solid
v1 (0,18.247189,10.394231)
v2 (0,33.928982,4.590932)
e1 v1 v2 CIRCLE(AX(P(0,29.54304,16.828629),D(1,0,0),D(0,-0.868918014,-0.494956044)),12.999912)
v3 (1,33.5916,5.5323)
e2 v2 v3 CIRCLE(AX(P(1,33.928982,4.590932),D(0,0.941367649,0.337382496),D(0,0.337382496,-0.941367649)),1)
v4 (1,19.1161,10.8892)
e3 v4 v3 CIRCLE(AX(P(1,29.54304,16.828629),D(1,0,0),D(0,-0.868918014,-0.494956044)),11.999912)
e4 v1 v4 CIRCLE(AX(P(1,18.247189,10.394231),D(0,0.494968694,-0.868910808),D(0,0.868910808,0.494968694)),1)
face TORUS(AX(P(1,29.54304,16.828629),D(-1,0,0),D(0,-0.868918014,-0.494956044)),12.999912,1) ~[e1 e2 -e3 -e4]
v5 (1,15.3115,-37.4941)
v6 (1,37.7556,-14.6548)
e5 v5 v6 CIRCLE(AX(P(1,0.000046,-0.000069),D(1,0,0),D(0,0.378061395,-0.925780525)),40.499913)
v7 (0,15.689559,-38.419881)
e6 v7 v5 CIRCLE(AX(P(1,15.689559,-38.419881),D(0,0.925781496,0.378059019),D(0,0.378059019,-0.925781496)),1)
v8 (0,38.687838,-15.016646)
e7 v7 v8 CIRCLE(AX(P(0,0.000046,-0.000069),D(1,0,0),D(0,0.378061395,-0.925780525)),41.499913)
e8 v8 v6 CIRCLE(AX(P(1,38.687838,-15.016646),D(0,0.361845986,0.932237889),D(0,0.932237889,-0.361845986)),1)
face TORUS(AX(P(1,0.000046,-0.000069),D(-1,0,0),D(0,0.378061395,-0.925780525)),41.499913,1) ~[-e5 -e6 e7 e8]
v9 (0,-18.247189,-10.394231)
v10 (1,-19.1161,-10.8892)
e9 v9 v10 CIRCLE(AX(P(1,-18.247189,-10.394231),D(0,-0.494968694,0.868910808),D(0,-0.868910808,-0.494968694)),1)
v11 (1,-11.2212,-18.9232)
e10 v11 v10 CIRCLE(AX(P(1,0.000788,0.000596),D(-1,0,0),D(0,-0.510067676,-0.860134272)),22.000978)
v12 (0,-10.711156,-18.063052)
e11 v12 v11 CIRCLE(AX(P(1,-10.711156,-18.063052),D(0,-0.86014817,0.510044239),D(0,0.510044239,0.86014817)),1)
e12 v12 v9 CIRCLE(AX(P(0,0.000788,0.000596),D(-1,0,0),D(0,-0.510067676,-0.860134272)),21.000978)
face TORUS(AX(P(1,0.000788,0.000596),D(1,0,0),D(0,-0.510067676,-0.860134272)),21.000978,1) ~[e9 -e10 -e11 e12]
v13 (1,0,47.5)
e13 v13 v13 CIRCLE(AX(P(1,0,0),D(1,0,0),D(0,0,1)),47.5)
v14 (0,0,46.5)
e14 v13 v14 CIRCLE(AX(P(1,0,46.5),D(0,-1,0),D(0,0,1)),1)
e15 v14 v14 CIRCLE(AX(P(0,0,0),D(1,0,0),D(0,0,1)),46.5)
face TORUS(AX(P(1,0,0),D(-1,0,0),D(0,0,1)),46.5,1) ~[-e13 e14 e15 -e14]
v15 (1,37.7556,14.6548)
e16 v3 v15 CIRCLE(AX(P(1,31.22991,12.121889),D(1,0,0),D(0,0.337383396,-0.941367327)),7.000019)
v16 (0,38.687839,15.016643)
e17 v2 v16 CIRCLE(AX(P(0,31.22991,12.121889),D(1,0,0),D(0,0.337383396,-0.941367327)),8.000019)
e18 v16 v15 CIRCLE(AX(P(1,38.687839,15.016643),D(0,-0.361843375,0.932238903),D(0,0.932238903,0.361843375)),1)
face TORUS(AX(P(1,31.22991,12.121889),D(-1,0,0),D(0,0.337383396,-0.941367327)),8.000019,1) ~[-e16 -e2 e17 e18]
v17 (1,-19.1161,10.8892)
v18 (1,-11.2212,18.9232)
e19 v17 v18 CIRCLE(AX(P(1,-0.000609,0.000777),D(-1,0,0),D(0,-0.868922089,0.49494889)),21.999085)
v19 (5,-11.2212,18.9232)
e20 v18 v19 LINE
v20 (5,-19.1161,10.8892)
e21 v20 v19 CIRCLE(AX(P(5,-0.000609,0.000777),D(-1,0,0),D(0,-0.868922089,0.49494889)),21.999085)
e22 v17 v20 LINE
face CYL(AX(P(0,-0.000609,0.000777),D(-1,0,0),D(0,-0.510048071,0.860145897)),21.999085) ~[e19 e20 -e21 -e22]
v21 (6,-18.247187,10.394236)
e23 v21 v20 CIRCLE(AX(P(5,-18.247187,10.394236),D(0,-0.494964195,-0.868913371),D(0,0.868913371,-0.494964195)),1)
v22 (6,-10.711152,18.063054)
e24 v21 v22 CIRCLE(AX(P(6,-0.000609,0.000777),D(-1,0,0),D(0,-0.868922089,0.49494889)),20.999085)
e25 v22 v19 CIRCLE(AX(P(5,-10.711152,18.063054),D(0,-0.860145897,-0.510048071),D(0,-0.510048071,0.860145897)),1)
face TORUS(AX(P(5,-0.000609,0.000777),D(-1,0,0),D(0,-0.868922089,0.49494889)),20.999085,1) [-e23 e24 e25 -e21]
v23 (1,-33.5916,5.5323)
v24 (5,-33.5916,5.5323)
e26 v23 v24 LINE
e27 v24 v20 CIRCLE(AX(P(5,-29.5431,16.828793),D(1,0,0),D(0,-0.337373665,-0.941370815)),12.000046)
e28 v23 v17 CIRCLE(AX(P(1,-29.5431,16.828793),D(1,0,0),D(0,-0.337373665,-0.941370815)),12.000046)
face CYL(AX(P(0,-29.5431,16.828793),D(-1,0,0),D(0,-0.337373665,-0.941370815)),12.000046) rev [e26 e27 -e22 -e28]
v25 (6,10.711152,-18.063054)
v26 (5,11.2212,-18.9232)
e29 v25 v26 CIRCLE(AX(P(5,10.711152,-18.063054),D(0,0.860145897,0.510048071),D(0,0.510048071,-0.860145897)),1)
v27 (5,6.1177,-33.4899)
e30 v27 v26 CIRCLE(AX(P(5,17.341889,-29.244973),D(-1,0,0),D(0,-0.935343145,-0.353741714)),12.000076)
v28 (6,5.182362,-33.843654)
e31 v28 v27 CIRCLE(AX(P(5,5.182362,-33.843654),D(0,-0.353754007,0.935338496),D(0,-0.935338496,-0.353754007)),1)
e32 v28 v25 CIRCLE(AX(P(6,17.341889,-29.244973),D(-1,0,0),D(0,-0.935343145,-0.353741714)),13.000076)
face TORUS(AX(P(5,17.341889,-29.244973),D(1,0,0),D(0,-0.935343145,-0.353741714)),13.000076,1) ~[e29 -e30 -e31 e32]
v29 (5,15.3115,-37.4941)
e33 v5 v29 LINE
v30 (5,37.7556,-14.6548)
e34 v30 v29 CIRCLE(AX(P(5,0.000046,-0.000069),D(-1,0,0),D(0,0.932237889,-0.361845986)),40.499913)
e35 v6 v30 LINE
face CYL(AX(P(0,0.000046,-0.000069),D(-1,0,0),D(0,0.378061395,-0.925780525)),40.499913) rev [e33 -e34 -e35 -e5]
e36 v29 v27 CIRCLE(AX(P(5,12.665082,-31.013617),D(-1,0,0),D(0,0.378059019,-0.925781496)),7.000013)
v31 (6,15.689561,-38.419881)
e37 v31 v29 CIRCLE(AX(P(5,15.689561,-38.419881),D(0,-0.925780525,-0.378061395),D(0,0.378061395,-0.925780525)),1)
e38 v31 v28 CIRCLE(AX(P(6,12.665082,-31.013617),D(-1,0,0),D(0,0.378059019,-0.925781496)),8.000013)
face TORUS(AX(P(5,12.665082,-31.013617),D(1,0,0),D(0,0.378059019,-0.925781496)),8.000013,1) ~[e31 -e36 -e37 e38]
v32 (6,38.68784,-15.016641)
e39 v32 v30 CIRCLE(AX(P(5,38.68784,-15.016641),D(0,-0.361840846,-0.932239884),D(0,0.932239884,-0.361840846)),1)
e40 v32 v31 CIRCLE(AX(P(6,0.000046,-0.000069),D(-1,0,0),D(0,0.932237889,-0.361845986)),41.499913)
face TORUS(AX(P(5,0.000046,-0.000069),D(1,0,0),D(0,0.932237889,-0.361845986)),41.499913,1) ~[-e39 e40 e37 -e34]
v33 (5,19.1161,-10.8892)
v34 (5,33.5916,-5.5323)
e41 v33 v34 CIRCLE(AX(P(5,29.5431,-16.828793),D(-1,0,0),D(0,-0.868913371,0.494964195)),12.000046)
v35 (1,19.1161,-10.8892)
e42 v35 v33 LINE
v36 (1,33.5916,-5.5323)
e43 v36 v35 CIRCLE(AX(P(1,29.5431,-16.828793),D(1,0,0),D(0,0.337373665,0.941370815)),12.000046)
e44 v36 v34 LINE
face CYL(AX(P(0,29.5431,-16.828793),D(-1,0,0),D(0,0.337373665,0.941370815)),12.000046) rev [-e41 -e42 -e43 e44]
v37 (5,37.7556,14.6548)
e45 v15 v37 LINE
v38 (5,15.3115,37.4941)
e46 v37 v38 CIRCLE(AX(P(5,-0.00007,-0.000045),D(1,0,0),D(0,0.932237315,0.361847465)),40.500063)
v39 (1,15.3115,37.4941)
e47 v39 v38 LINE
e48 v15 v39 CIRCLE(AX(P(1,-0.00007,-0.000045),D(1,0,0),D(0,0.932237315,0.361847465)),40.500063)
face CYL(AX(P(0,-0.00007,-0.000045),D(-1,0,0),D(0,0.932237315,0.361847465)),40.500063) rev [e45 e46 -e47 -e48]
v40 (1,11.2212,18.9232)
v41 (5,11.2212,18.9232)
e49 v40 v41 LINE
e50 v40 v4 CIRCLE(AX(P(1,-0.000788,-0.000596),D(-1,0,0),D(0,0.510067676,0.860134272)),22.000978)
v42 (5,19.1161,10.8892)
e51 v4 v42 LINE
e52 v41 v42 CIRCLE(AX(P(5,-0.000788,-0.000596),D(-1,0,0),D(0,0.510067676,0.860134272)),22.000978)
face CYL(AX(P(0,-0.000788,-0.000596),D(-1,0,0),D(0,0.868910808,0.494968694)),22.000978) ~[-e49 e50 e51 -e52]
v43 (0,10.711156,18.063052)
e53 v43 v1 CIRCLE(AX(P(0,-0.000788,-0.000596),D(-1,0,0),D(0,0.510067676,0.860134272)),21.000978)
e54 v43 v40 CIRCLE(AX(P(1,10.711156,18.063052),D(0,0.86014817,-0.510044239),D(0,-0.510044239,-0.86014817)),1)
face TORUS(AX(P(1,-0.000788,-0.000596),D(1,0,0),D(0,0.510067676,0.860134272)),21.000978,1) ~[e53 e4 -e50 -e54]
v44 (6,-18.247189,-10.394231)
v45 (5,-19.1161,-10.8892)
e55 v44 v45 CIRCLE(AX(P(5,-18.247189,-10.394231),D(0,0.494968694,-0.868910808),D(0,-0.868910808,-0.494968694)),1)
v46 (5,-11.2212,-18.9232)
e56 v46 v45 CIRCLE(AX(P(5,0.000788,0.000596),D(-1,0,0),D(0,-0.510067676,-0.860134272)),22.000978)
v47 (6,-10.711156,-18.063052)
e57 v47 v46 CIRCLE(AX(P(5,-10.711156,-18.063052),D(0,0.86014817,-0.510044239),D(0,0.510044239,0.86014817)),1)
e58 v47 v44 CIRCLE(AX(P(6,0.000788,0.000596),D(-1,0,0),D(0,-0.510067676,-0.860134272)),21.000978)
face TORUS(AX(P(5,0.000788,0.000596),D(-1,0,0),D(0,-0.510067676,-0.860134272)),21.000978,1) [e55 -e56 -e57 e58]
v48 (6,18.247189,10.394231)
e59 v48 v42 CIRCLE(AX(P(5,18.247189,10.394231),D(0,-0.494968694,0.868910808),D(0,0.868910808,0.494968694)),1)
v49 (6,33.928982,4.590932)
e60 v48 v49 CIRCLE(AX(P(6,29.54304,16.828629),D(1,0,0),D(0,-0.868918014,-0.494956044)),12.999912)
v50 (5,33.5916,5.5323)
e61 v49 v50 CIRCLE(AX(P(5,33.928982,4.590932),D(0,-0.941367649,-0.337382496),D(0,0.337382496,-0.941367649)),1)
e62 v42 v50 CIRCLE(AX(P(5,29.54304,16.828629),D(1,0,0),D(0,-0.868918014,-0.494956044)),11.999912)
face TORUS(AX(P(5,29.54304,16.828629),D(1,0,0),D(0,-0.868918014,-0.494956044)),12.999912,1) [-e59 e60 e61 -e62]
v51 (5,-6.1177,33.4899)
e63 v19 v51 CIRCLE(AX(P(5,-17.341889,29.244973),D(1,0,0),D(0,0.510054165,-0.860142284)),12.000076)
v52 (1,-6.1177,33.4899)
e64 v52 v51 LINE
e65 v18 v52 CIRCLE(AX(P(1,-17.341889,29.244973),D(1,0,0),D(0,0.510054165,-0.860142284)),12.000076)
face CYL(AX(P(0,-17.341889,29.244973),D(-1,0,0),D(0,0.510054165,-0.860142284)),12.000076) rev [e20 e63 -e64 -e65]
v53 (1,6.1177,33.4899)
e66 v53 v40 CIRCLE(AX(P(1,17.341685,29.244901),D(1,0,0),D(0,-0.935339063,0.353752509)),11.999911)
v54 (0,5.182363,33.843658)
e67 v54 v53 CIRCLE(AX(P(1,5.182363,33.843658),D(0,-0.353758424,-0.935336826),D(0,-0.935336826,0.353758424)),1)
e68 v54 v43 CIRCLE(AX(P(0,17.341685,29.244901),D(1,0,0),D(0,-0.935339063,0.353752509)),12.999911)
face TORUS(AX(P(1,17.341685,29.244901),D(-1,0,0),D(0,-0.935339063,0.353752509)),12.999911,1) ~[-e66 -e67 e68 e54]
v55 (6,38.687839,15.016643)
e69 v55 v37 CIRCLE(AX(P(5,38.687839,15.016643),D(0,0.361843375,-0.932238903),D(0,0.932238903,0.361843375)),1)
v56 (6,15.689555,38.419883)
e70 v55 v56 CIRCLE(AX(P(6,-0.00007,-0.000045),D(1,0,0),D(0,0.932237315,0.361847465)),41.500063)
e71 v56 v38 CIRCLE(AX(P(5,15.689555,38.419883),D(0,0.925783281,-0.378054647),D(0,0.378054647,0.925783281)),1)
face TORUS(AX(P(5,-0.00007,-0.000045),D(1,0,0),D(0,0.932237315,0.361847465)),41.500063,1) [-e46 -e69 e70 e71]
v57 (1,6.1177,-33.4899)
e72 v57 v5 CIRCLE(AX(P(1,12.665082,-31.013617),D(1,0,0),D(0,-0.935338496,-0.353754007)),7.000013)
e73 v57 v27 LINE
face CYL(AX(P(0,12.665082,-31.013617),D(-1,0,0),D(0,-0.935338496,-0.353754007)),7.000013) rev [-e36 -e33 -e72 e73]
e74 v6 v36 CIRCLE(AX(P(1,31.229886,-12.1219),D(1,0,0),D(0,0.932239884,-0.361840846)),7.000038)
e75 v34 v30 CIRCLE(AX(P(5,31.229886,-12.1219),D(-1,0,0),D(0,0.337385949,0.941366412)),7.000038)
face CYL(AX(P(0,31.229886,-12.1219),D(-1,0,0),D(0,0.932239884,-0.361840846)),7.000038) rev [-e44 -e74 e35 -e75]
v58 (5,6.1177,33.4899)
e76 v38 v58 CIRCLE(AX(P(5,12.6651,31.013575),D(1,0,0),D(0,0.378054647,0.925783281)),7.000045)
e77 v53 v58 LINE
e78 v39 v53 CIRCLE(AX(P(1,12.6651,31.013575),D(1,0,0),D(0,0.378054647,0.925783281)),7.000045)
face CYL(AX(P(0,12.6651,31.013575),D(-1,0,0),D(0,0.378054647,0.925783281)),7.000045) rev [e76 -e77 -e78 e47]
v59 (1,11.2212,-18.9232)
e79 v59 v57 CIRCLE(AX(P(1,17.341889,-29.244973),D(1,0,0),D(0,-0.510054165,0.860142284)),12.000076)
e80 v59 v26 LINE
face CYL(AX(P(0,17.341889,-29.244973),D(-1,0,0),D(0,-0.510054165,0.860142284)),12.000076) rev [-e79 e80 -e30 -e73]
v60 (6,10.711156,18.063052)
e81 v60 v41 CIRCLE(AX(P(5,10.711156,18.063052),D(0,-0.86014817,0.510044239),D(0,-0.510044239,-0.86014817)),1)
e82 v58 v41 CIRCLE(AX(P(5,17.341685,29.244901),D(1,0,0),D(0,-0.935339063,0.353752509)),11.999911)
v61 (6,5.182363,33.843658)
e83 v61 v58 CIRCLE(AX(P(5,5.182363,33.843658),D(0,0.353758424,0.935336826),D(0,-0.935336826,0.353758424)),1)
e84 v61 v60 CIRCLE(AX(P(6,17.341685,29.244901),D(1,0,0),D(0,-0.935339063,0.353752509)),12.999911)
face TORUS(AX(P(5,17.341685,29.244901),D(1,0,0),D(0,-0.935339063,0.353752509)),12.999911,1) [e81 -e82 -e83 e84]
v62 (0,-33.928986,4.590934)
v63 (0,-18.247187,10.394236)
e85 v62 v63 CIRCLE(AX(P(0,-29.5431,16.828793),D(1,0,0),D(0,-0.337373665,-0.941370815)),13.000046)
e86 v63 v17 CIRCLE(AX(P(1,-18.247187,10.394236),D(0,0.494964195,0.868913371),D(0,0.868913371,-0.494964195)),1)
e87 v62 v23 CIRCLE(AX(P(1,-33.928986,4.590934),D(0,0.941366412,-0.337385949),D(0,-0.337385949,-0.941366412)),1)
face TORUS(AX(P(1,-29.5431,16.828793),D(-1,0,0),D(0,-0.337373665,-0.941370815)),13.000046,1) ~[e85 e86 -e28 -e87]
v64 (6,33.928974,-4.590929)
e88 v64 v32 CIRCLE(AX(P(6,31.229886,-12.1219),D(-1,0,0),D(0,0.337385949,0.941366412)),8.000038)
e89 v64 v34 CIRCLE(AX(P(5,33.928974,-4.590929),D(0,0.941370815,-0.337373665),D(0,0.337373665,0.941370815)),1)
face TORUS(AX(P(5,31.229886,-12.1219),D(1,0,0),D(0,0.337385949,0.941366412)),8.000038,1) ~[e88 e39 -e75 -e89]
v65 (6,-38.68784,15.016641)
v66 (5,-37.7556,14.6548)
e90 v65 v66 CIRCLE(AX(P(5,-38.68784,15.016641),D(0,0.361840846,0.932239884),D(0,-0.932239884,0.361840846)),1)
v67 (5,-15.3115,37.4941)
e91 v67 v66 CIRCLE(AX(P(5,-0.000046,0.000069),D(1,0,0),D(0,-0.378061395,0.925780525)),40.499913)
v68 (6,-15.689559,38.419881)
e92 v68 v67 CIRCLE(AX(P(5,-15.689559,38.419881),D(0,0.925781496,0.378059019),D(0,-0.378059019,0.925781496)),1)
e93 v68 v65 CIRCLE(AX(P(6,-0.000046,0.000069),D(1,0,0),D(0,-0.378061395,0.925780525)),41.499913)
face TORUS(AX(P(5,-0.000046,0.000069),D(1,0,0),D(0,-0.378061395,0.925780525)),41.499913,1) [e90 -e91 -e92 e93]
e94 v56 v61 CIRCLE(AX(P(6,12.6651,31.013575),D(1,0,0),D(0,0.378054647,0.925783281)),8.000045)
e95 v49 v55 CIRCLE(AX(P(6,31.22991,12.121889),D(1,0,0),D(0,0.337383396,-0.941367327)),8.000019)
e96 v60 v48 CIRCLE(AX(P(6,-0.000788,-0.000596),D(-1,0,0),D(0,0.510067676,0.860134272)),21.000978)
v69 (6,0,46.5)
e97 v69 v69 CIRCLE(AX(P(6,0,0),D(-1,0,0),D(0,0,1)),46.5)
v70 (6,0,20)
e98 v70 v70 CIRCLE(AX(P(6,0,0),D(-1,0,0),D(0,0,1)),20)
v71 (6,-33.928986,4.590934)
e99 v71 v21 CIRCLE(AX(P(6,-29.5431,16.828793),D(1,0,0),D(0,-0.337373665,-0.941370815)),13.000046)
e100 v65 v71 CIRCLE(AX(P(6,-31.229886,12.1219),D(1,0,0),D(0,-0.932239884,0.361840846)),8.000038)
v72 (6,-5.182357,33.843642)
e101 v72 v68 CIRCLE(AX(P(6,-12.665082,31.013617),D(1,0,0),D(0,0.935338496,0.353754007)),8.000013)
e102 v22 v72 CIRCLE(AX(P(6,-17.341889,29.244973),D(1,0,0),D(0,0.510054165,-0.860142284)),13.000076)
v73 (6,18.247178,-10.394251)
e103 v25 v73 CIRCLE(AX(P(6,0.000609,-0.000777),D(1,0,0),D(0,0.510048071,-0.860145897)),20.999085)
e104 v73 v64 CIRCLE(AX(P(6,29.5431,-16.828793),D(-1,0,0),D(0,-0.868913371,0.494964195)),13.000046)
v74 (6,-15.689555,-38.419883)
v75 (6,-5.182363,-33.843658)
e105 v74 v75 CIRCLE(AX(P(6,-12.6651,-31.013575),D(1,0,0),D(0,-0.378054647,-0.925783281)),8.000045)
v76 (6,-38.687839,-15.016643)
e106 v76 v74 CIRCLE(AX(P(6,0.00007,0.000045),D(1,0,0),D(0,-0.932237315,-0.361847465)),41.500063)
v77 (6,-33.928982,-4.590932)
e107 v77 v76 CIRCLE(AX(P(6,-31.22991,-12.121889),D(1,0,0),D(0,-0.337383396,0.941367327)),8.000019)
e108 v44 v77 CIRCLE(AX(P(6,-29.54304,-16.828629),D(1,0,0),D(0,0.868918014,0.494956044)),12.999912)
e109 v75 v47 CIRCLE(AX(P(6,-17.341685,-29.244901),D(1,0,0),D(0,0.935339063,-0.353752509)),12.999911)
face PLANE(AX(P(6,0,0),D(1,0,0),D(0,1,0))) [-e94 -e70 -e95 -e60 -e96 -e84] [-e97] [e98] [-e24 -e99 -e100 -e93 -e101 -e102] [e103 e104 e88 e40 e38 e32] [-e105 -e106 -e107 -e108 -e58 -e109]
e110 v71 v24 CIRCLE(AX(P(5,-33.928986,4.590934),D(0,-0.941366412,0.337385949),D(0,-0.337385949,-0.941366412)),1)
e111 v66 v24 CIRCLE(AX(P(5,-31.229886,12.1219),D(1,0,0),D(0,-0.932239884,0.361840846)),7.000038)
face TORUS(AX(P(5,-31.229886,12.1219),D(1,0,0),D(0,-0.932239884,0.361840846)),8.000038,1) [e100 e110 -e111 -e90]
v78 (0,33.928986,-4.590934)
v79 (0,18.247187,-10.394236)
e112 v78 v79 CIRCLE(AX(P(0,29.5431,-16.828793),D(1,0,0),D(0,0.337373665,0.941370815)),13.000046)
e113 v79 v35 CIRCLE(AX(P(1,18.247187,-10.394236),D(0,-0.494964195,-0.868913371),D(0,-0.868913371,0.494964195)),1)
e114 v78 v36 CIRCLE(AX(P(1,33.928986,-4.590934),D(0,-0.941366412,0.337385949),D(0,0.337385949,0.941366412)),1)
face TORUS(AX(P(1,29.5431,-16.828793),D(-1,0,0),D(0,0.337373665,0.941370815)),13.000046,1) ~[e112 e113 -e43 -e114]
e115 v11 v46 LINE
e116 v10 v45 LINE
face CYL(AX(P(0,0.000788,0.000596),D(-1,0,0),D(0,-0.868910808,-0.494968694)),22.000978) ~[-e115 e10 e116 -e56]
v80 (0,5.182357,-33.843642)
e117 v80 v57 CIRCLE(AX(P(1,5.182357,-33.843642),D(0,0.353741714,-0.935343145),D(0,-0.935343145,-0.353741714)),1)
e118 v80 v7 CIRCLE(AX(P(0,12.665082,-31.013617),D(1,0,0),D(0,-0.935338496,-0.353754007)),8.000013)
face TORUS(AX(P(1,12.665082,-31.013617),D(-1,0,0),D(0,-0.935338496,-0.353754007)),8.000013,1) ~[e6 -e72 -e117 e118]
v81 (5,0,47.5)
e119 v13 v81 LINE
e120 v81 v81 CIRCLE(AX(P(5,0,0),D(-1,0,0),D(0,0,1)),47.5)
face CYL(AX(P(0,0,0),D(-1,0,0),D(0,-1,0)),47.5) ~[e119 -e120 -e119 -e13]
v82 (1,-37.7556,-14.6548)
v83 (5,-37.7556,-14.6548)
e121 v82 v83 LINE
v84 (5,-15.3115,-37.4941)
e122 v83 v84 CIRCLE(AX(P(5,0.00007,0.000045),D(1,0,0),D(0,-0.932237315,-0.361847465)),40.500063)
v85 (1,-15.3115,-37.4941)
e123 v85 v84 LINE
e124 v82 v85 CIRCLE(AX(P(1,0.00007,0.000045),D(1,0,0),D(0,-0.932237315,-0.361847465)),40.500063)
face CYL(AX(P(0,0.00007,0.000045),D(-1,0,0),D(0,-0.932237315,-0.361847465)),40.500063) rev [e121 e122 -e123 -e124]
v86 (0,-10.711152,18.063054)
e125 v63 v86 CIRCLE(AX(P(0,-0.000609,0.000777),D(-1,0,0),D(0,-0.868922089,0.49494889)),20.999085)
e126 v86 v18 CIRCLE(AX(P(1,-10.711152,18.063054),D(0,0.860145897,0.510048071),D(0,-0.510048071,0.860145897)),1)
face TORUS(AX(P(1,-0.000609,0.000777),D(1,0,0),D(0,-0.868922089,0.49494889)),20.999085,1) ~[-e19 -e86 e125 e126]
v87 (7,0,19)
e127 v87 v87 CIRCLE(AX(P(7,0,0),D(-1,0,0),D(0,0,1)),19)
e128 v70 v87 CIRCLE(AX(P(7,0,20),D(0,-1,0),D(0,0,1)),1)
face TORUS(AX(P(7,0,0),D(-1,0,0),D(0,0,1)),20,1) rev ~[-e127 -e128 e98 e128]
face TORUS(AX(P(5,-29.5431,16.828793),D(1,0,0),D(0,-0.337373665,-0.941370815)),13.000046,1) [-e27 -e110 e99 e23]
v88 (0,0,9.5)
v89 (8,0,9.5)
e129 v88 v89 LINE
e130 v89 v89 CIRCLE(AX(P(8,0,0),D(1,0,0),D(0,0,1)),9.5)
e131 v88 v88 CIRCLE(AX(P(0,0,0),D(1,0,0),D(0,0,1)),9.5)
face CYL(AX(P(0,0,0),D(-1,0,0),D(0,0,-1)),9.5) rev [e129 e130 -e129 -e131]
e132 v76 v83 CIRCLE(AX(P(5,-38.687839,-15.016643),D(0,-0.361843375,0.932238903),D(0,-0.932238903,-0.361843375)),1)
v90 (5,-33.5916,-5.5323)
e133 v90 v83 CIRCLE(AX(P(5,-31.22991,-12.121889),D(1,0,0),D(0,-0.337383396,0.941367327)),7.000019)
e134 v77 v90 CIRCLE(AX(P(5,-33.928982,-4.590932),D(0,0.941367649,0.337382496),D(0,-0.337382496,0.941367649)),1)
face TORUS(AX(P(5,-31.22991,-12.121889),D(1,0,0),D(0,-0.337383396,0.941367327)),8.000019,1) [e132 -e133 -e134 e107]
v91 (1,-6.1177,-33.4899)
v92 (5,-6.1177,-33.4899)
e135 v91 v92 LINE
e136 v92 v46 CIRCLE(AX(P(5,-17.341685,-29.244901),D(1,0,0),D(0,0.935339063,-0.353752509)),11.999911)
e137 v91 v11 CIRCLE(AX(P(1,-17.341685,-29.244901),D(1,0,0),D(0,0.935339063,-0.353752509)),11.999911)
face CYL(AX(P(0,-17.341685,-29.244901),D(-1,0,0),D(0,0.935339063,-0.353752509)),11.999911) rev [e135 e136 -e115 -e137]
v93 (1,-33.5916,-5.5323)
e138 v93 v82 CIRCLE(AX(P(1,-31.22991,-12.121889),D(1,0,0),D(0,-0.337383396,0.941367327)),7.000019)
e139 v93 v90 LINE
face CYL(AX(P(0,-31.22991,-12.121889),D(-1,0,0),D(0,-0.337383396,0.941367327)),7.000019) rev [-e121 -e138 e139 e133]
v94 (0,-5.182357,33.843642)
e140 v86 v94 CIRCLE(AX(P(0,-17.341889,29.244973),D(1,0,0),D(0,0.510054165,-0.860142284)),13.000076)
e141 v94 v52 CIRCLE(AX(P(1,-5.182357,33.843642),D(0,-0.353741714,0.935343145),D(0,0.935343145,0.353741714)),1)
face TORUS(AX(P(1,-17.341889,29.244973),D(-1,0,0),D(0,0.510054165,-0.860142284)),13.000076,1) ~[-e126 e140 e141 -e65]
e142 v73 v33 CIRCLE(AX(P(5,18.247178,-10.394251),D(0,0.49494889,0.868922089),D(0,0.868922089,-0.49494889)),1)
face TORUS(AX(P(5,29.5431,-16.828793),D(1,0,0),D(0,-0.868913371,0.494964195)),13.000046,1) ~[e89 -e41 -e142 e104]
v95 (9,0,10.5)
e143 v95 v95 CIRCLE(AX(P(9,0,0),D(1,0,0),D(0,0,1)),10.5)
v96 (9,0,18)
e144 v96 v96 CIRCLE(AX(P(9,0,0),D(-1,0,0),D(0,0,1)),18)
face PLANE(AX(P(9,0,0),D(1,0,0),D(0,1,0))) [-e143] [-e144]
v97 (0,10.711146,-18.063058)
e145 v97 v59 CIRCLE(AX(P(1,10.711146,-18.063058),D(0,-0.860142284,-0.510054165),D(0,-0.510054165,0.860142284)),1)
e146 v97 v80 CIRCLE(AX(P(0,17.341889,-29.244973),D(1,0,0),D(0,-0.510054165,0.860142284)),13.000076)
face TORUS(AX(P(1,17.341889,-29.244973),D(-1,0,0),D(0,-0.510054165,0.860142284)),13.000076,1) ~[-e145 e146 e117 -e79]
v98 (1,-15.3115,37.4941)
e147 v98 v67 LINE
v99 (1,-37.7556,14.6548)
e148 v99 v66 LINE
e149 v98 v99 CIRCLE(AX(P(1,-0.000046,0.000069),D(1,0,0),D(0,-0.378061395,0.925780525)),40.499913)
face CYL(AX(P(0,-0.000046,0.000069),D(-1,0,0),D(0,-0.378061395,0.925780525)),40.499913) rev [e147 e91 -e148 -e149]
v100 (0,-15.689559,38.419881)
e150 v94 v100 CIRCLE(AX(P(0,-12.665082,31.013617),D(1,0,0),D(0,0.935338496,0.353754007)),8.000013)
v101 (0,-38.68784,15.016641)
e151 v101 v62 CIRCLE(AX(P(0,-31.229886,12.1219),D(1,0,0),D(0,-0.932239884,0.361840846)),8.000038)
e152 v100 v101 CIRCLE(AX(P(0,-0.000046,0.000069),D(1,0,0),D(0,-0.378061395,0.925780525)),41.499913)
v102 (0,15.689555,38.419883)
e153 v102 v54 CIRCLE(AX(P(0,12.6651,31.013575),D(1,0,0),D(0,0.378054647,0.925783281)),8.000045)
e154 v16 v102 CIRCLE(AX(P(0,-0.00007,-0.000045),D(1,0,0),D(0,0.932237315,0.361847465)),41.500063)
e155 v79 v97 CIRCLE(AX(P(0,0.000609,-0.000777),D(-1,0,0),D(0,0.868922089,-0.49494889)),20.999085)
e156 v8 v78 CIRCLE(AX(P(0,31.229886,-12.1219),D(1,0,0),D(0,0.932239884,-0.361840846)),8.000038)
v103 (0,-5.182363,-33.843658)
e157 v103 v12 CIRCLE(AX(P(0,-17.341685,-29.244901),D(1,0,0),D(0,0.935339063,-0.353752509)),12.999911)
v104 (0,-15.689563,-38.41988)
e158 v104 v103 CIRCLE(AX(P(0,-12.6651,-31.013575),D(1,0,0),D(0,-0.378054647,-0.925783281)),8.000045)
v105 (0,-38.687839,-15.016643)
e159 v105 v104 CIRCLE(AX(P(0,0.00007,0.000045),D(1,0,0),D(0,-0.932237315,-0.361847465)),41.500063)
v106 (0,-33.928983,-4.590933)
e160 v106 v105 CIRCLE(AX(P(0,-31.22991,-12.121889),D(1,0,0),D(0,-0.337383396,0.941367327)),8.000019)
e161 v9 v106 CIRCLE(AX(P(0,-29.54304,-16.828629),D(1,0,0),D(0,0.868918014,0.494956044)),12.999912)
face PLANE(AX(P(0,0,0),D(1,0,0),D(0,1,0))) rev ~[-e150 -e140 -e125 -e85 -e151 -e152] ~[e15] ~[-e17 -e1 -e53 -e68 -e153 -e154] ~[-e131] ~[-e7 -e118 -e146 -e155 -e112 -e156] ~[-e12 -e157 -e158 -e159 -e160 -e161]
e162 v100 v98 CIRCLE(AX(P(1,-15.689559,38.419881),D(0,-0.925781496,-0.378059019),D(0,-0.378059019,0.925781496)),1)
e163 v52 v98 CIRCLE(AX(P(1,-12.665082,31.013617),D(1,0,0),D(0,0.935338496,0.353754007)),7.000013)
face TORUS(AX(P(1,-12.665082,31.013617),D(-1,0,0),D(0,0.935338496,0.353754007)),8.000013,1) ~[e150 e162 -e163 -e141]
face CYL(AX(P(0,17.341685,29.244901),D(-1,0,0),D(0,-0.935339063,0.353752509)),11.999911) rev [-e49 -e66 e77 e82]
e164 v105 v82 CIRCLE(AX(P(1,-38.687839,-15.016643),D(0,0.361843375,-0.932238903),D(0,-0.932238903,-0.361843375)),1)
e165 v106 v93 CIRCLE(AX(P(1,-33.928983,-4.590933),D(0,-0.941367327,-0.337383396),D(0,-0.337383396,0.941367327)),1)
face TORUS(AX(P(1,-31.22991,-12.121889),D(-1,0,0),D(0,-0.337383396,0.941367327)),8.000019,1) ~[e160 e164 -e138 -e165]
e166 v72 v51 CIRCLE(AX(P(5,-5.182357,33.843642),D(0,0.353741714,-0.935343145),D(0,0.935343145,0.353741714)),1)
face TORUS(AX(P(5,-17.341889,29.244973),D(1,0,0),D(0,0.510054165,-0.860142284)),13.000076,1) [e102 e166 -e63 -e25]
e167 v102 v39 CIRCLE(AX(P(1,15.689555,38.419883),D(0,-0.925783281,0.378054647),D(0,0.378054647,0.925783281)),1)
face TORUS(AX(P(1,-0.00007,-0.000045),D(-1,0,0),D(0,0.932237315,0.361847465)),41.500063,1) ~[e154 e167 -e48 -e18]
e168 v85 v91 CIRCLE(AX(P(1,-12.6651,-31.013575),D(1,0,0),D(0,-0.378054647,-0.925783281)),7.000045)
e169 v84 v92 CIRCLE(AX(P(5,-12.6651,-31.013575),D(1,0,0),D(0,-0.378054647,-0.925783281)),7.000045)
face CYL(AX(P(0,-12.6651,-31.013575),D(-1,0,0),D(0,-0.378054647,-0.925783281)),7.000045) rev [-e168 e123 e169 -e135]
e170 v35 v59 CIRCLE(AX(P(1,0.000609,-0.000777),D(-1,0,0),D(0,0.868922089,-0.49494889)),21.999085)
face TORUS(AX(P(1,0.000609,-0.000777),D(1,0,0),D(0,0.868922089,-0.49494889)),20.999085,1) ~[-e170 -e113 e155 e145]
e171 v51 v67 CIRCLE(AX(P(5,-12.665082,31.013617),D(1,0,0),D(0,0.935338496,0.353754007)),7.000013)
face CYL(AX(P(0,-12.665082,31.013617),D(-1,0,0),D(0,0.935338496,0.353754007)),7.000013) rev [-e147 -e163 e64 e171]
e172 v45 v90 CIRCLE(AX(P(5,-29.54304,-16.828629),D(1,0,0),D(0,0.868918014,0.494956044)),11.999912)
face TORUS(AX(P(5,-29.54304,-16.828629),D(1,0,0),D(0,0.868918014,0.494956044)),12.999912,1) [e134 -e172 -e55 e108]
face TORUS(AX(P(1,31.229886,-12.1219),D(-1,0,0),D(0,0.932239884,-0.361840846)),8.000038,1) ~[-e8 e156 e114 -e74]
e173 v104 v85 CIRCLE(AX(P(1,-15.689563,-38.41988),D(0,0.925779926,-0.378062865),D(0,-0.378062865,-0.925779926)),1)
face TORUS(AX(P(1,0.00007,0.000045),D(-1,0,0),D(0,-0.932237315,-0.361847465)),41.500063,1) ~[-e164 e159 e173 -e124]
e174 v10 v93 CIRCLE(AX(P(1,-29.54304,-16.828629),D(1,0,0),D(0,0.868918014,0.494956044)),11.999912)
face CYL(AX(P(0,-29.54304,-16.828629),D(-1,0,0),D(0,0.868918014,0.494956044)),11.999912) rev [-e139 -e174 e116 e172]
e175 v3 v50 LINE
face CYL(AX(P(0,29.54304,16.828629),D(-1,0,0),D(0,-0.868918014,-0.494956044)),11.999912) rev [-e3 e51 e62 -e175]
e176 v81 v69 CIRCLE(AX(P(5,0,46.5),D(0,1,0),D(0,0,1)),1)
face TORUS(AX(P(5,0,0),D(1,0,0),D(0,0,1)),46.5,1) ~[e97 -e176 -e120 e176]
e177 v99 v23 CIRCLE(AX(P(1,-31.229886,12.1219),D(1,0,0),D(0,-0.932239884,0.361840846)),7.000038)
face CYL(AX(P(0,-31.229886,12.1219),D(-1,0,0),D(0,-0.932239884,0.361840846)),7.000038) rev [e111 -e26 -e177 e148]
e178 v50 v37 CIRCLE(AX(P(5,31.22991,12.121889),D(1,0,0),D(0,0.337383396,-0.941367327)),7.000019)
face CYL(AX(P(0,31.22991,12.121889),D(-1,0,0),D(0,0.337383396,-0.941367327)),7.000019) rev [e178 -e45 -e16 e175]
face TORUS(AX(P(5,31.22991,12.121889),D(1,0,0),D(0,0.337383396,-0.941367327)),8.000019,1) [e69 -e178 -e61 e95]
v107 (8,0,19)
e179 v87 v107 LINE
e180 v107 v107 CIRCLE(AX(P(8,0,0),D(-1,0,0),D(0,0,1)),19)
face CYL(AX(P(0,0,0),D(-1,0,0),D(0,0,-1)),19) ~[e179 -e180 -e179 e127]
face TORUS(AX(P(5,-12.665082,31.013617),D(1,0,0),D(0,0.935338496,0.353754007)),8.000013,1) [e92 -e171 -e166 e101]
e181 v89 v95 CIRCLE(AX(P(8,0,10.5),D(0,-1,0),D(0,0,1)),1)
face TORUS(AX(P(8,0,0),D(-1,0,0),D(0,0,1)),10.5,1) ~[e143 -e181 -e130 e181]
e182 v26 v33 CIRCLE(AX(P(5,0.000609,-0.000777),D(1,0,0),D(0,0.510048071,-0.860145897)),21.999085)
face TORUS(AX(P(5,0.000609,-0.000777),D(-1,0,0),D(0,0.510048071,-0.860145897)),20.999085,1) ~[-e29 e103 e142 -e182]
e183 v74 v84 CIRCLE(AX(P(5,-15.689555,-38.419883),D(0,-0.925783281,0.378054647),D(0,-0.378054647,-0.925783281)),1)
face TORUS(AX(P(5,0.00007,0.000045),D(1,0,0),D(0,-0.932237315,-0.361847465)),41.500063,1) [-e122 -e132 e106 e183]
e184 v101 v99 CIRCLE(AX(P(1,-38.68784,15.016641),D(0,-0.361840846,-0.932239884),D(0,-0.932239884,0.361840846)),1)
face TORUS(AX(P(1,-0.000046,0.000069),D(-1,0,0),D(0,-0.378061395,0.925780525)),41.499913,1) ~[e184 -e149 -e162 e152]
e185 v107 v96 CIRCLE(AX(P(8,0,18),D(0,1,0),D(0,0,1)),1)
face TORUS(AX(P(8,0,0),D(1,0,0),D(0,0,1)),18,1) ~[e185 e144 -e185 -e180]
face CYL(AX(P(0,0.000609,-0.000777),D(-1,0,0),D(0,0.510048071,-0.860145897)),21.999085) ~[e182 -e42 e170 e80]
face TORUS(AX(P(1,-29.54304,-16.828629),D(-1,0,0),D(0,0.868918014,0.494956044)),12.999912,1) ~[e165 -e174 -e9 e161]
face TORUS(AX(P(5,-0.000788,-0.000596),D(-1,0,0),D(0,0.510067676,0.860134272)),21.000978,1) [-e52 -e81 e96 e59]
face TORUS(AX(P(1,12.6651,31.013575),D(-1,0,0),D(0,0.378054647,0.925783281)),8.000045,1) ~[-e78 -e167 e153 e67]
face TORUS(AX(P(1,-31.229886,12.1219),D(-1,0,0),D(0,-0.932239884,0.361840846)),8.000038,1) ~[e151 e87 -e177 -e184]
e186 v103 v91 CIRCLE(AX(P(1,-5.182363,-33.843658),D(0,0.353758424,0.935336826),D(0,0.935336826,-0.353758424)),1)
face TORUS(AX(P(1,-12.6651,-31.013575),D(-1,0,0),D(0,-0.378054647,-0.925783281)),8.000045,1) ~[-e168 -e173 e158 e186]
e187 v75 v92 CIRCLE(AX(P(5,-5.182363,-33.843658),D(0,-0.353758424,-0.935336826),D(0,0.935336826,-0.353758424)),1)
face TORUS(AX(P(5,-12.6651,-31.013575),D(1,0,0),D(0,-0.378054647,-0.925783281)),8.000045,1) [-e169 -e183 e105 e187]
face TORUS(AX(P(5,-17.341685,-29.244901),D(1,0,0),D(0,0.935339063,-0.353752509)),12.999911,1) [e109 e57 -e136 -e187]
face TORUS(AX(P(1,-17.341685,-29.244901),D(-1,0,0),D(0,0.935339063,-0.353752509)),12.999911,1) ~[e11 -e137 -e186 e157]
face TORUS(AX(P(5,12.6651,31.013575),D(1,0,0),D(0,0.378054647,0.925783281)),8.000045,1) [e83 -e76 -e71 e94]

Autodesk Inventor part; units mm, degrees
ref_plane "YZ Plane" through (0, 0, 0) normal (1, 0, 0) x (0, 1, 0)
ref_plane "XZ Plane" through (0, 0, 0) normal (0, 1, 0) x (-1, 0, 0)
ref_plane "XY Plane" through (0, 0, 0) normal (0, 0, 1) x (1, 0, 0)
sketch "Sketch1" plane through (0, 0, 0) normal (1, 0, 0) x (0, 1, 0)
  arc A0 (15.3115, -37.4941) -> (37.7556, -14.6548) centre (0, 0) ccw
  arc A1 (11.2212, -18.9232) -> (19.1161, -10.8892) centre (0, 0) ccw
  arc A2 (33.5916, -5.5323) -> (19.1161, -10.8892) centre (29.5431, -16.8287) ccw
  arc A3 (11.2212, -18.9232) -> (6.1177, -33.4899) centre (17.3418, -29.2449) ccw
  arc A4 (37.7556, -14.6548) -> (33.5916, -5.5323) centre (31.2299, -12.1219) ccw
  arc A5 (6.1177, -33.4899) -> (15.3115, -37.4941) centre (12.6651, -31.0136) ccw
  arc A6 (0, -47.5) -> (47.5, 0) centre (0, 0) ccw
  arc A7 (0, -19) -> (19, 0) centre (0, 0) ccw
  arc A8 (0, -9.5) -> (9.5, 0) centre (0, 0) ccw
  arc A9 (-37.7556, -14.6548) -> (-15.3115, -37.4941) centre (0, 0) ccw
  arc A10 (-19.1161, -10.8892) -> (-11.2212, -18.9232) centre (0, 0) ccw
  arc A11 (-19.1161, -10.8892) -> (-33.5916, -5.5323) centre (-29.5431, -16.8287) ccw
  arc A12 (-6.1177, -33.4899) -> (-11.2212, -18.9232) centre (-17.3418, -29.2449) ccw
  arc A13 (-33.5916, -5.5323) -> (-37.7556, -14.6548) centre (-31.2299, -12.1219) ccw
  arc A14 (-15.3115, -37.4941) -> (-6.1177, -33.4899) centre (-12.6651, -31.0136) ccw
  arc A15 (-47.5, 0) -> (0, -47.5) centre (0, 0) ccw
  arc A16 (-19, 0) -> (0, -19) centre (0, 0) ccw
  arc A17 (-9.5, 0) -> (0, -9.5) centre (0, 0) ccw
  arc A18 (37.7556, 14.6548) -> (15.3115, 37.4941) centre (0, 0) ccw
  arc A19 (19.1161, 10.8892) -> (11.2212, 18.9232) centre (0, 0) ccw
  arc A20 (19.1161, 10.8892) -> (33.5916, 5.5323) centre (29.5431, 16.8287) ccw
  arc A21 (6.1177, 33.4899) -> (11.2212, 18.9232) centre (17.3418, 29.2449) ccw
  arc A22 (33.5916, 5.5323) -> (37.7556, 14.6548) centre (31.2299, 12.1219) ccw
  arc A23 (15.3115, 37.4941) -> (6.1177, 33.4899) centre (12.6651, 31.0136) ccw
  arc A24 (47.5, 0) -> (0, 47.5) centre (0, 0) ccw
  arc A25 (19, 0) -> (0, 19) centre (0, 0) ccw
  arc A26 (9.5, 0) -> (0, 9.5) centre (0, 0) ccw
  arc A27 (-37.7556, 14.6548) -> (-33.5916, 5.5323) centre (-31.2299, 12.1219) ccw
  arc A28 (-33.5916, 5.5323) -> (-19.1161, 10.8892) centre (-29.5431, 16.8287) ccw
  arc A29 (-11.2212, 18.9232) -> (-19.1161, 10.8892) centre (0, 0) ccw
  arc A30 (-15.3115, 37.4941) -> (-37.7556, 14.6548) centre (0, 0) ccw
  arc A31 (-11.2212, 18.9232) -> (-6.1177, 33.4899) centre (-17.3418, 29.2449) ccw
  arc A32 (-6.1177, 33.4899) -> (-15.3115, 37.4941) centre (-12.6651, 31.0136) ccw
  arc A33 (0, 9.5) -> (-9.5, 0) centre (0, 0) ccw
  arc A34 (0, 19) -> (-19, 0) centre (0, 0) ccw
  arc A35 (0, 47.5) -> (-47.5, 0) centre (0, 0) ccw
extrude "Extrusion1" add sketch "Sketch1" along normal blind 6 contours A15 A35 A24 A6
extrude "Extrusion2" add sketch "Sketch1" along normal blind 9 contours A16 A34 A25 A7
fillet "Fillet1" radius 1 1 edges at (6, 47.5, 0)
fillet "Fillet2" radius 1 52 edges at (0, 47.5, 0) (9, -19, 0) (6, -19, 0) (9, 0, -9.5) (6, 9.87, 37.4314) (6, 28.8866, 28.3868) (6, 37.5979, 9.2152) (6, 25.3783, 5.5746) (6, 15.6915, 15.42) (6, 6.0167, 25.2772) (0, 9.87, 37.4314) (0, 28.8866, 28.3868) (0, 37.5979, 9.2152) (0, 25.3783, 5.5746) (0, 15.6915, 15.42) (0, 6.0167, 25.2772) (6, 15.6915, -15.42) (6, 25.3783, -5.5746) (6, 37.5979, -9.2152) (6, 28.8866, -28.3868) (6, 9.87, -37.4314) (6, 6.0167, -25.2772) (6, -9.87, -37.4314) (6, -28.8866, -28.3868) (6, -37.5979, -9.2152) (6, -25.3783, -5.5746) (6, -15.6915, -15.42) (6, -6.0167, -25.2772) (6, -37.5979, 9.2152) (6, -28.8866, 28.3868) (6, -9.87, 37.4314) (6, -6.0167, 25.2772) (6, -15.6915, 15.42) (6, -25.3783, 5.5746) (0, -37.5979, 9.2152) (0, -28.8866, 28.3868) (0, -9.87, 37.4314) (0, -6.0167, 25.2772) (0, -15.6915, 15.42) (0, -25.3783, 5.5746) (0, -37.5979, -9.2152) (0, -25.3783, -5.5746) (0, -15.6915, -15.42) (0, -6.0167, -25.2772) (0, -9.87, -37.4314) (0, -28.8866, -28.3868) (0, 6.0167, -25.2772) (0, 15.6915, -15.42) (0, 25.3783, -5.5746) (0, 37.5979, -9.2152) (0, 28.8866, -28.3868) (0, 9.87, -37.4314)
properties material "Aluminum, Anodized Red"
